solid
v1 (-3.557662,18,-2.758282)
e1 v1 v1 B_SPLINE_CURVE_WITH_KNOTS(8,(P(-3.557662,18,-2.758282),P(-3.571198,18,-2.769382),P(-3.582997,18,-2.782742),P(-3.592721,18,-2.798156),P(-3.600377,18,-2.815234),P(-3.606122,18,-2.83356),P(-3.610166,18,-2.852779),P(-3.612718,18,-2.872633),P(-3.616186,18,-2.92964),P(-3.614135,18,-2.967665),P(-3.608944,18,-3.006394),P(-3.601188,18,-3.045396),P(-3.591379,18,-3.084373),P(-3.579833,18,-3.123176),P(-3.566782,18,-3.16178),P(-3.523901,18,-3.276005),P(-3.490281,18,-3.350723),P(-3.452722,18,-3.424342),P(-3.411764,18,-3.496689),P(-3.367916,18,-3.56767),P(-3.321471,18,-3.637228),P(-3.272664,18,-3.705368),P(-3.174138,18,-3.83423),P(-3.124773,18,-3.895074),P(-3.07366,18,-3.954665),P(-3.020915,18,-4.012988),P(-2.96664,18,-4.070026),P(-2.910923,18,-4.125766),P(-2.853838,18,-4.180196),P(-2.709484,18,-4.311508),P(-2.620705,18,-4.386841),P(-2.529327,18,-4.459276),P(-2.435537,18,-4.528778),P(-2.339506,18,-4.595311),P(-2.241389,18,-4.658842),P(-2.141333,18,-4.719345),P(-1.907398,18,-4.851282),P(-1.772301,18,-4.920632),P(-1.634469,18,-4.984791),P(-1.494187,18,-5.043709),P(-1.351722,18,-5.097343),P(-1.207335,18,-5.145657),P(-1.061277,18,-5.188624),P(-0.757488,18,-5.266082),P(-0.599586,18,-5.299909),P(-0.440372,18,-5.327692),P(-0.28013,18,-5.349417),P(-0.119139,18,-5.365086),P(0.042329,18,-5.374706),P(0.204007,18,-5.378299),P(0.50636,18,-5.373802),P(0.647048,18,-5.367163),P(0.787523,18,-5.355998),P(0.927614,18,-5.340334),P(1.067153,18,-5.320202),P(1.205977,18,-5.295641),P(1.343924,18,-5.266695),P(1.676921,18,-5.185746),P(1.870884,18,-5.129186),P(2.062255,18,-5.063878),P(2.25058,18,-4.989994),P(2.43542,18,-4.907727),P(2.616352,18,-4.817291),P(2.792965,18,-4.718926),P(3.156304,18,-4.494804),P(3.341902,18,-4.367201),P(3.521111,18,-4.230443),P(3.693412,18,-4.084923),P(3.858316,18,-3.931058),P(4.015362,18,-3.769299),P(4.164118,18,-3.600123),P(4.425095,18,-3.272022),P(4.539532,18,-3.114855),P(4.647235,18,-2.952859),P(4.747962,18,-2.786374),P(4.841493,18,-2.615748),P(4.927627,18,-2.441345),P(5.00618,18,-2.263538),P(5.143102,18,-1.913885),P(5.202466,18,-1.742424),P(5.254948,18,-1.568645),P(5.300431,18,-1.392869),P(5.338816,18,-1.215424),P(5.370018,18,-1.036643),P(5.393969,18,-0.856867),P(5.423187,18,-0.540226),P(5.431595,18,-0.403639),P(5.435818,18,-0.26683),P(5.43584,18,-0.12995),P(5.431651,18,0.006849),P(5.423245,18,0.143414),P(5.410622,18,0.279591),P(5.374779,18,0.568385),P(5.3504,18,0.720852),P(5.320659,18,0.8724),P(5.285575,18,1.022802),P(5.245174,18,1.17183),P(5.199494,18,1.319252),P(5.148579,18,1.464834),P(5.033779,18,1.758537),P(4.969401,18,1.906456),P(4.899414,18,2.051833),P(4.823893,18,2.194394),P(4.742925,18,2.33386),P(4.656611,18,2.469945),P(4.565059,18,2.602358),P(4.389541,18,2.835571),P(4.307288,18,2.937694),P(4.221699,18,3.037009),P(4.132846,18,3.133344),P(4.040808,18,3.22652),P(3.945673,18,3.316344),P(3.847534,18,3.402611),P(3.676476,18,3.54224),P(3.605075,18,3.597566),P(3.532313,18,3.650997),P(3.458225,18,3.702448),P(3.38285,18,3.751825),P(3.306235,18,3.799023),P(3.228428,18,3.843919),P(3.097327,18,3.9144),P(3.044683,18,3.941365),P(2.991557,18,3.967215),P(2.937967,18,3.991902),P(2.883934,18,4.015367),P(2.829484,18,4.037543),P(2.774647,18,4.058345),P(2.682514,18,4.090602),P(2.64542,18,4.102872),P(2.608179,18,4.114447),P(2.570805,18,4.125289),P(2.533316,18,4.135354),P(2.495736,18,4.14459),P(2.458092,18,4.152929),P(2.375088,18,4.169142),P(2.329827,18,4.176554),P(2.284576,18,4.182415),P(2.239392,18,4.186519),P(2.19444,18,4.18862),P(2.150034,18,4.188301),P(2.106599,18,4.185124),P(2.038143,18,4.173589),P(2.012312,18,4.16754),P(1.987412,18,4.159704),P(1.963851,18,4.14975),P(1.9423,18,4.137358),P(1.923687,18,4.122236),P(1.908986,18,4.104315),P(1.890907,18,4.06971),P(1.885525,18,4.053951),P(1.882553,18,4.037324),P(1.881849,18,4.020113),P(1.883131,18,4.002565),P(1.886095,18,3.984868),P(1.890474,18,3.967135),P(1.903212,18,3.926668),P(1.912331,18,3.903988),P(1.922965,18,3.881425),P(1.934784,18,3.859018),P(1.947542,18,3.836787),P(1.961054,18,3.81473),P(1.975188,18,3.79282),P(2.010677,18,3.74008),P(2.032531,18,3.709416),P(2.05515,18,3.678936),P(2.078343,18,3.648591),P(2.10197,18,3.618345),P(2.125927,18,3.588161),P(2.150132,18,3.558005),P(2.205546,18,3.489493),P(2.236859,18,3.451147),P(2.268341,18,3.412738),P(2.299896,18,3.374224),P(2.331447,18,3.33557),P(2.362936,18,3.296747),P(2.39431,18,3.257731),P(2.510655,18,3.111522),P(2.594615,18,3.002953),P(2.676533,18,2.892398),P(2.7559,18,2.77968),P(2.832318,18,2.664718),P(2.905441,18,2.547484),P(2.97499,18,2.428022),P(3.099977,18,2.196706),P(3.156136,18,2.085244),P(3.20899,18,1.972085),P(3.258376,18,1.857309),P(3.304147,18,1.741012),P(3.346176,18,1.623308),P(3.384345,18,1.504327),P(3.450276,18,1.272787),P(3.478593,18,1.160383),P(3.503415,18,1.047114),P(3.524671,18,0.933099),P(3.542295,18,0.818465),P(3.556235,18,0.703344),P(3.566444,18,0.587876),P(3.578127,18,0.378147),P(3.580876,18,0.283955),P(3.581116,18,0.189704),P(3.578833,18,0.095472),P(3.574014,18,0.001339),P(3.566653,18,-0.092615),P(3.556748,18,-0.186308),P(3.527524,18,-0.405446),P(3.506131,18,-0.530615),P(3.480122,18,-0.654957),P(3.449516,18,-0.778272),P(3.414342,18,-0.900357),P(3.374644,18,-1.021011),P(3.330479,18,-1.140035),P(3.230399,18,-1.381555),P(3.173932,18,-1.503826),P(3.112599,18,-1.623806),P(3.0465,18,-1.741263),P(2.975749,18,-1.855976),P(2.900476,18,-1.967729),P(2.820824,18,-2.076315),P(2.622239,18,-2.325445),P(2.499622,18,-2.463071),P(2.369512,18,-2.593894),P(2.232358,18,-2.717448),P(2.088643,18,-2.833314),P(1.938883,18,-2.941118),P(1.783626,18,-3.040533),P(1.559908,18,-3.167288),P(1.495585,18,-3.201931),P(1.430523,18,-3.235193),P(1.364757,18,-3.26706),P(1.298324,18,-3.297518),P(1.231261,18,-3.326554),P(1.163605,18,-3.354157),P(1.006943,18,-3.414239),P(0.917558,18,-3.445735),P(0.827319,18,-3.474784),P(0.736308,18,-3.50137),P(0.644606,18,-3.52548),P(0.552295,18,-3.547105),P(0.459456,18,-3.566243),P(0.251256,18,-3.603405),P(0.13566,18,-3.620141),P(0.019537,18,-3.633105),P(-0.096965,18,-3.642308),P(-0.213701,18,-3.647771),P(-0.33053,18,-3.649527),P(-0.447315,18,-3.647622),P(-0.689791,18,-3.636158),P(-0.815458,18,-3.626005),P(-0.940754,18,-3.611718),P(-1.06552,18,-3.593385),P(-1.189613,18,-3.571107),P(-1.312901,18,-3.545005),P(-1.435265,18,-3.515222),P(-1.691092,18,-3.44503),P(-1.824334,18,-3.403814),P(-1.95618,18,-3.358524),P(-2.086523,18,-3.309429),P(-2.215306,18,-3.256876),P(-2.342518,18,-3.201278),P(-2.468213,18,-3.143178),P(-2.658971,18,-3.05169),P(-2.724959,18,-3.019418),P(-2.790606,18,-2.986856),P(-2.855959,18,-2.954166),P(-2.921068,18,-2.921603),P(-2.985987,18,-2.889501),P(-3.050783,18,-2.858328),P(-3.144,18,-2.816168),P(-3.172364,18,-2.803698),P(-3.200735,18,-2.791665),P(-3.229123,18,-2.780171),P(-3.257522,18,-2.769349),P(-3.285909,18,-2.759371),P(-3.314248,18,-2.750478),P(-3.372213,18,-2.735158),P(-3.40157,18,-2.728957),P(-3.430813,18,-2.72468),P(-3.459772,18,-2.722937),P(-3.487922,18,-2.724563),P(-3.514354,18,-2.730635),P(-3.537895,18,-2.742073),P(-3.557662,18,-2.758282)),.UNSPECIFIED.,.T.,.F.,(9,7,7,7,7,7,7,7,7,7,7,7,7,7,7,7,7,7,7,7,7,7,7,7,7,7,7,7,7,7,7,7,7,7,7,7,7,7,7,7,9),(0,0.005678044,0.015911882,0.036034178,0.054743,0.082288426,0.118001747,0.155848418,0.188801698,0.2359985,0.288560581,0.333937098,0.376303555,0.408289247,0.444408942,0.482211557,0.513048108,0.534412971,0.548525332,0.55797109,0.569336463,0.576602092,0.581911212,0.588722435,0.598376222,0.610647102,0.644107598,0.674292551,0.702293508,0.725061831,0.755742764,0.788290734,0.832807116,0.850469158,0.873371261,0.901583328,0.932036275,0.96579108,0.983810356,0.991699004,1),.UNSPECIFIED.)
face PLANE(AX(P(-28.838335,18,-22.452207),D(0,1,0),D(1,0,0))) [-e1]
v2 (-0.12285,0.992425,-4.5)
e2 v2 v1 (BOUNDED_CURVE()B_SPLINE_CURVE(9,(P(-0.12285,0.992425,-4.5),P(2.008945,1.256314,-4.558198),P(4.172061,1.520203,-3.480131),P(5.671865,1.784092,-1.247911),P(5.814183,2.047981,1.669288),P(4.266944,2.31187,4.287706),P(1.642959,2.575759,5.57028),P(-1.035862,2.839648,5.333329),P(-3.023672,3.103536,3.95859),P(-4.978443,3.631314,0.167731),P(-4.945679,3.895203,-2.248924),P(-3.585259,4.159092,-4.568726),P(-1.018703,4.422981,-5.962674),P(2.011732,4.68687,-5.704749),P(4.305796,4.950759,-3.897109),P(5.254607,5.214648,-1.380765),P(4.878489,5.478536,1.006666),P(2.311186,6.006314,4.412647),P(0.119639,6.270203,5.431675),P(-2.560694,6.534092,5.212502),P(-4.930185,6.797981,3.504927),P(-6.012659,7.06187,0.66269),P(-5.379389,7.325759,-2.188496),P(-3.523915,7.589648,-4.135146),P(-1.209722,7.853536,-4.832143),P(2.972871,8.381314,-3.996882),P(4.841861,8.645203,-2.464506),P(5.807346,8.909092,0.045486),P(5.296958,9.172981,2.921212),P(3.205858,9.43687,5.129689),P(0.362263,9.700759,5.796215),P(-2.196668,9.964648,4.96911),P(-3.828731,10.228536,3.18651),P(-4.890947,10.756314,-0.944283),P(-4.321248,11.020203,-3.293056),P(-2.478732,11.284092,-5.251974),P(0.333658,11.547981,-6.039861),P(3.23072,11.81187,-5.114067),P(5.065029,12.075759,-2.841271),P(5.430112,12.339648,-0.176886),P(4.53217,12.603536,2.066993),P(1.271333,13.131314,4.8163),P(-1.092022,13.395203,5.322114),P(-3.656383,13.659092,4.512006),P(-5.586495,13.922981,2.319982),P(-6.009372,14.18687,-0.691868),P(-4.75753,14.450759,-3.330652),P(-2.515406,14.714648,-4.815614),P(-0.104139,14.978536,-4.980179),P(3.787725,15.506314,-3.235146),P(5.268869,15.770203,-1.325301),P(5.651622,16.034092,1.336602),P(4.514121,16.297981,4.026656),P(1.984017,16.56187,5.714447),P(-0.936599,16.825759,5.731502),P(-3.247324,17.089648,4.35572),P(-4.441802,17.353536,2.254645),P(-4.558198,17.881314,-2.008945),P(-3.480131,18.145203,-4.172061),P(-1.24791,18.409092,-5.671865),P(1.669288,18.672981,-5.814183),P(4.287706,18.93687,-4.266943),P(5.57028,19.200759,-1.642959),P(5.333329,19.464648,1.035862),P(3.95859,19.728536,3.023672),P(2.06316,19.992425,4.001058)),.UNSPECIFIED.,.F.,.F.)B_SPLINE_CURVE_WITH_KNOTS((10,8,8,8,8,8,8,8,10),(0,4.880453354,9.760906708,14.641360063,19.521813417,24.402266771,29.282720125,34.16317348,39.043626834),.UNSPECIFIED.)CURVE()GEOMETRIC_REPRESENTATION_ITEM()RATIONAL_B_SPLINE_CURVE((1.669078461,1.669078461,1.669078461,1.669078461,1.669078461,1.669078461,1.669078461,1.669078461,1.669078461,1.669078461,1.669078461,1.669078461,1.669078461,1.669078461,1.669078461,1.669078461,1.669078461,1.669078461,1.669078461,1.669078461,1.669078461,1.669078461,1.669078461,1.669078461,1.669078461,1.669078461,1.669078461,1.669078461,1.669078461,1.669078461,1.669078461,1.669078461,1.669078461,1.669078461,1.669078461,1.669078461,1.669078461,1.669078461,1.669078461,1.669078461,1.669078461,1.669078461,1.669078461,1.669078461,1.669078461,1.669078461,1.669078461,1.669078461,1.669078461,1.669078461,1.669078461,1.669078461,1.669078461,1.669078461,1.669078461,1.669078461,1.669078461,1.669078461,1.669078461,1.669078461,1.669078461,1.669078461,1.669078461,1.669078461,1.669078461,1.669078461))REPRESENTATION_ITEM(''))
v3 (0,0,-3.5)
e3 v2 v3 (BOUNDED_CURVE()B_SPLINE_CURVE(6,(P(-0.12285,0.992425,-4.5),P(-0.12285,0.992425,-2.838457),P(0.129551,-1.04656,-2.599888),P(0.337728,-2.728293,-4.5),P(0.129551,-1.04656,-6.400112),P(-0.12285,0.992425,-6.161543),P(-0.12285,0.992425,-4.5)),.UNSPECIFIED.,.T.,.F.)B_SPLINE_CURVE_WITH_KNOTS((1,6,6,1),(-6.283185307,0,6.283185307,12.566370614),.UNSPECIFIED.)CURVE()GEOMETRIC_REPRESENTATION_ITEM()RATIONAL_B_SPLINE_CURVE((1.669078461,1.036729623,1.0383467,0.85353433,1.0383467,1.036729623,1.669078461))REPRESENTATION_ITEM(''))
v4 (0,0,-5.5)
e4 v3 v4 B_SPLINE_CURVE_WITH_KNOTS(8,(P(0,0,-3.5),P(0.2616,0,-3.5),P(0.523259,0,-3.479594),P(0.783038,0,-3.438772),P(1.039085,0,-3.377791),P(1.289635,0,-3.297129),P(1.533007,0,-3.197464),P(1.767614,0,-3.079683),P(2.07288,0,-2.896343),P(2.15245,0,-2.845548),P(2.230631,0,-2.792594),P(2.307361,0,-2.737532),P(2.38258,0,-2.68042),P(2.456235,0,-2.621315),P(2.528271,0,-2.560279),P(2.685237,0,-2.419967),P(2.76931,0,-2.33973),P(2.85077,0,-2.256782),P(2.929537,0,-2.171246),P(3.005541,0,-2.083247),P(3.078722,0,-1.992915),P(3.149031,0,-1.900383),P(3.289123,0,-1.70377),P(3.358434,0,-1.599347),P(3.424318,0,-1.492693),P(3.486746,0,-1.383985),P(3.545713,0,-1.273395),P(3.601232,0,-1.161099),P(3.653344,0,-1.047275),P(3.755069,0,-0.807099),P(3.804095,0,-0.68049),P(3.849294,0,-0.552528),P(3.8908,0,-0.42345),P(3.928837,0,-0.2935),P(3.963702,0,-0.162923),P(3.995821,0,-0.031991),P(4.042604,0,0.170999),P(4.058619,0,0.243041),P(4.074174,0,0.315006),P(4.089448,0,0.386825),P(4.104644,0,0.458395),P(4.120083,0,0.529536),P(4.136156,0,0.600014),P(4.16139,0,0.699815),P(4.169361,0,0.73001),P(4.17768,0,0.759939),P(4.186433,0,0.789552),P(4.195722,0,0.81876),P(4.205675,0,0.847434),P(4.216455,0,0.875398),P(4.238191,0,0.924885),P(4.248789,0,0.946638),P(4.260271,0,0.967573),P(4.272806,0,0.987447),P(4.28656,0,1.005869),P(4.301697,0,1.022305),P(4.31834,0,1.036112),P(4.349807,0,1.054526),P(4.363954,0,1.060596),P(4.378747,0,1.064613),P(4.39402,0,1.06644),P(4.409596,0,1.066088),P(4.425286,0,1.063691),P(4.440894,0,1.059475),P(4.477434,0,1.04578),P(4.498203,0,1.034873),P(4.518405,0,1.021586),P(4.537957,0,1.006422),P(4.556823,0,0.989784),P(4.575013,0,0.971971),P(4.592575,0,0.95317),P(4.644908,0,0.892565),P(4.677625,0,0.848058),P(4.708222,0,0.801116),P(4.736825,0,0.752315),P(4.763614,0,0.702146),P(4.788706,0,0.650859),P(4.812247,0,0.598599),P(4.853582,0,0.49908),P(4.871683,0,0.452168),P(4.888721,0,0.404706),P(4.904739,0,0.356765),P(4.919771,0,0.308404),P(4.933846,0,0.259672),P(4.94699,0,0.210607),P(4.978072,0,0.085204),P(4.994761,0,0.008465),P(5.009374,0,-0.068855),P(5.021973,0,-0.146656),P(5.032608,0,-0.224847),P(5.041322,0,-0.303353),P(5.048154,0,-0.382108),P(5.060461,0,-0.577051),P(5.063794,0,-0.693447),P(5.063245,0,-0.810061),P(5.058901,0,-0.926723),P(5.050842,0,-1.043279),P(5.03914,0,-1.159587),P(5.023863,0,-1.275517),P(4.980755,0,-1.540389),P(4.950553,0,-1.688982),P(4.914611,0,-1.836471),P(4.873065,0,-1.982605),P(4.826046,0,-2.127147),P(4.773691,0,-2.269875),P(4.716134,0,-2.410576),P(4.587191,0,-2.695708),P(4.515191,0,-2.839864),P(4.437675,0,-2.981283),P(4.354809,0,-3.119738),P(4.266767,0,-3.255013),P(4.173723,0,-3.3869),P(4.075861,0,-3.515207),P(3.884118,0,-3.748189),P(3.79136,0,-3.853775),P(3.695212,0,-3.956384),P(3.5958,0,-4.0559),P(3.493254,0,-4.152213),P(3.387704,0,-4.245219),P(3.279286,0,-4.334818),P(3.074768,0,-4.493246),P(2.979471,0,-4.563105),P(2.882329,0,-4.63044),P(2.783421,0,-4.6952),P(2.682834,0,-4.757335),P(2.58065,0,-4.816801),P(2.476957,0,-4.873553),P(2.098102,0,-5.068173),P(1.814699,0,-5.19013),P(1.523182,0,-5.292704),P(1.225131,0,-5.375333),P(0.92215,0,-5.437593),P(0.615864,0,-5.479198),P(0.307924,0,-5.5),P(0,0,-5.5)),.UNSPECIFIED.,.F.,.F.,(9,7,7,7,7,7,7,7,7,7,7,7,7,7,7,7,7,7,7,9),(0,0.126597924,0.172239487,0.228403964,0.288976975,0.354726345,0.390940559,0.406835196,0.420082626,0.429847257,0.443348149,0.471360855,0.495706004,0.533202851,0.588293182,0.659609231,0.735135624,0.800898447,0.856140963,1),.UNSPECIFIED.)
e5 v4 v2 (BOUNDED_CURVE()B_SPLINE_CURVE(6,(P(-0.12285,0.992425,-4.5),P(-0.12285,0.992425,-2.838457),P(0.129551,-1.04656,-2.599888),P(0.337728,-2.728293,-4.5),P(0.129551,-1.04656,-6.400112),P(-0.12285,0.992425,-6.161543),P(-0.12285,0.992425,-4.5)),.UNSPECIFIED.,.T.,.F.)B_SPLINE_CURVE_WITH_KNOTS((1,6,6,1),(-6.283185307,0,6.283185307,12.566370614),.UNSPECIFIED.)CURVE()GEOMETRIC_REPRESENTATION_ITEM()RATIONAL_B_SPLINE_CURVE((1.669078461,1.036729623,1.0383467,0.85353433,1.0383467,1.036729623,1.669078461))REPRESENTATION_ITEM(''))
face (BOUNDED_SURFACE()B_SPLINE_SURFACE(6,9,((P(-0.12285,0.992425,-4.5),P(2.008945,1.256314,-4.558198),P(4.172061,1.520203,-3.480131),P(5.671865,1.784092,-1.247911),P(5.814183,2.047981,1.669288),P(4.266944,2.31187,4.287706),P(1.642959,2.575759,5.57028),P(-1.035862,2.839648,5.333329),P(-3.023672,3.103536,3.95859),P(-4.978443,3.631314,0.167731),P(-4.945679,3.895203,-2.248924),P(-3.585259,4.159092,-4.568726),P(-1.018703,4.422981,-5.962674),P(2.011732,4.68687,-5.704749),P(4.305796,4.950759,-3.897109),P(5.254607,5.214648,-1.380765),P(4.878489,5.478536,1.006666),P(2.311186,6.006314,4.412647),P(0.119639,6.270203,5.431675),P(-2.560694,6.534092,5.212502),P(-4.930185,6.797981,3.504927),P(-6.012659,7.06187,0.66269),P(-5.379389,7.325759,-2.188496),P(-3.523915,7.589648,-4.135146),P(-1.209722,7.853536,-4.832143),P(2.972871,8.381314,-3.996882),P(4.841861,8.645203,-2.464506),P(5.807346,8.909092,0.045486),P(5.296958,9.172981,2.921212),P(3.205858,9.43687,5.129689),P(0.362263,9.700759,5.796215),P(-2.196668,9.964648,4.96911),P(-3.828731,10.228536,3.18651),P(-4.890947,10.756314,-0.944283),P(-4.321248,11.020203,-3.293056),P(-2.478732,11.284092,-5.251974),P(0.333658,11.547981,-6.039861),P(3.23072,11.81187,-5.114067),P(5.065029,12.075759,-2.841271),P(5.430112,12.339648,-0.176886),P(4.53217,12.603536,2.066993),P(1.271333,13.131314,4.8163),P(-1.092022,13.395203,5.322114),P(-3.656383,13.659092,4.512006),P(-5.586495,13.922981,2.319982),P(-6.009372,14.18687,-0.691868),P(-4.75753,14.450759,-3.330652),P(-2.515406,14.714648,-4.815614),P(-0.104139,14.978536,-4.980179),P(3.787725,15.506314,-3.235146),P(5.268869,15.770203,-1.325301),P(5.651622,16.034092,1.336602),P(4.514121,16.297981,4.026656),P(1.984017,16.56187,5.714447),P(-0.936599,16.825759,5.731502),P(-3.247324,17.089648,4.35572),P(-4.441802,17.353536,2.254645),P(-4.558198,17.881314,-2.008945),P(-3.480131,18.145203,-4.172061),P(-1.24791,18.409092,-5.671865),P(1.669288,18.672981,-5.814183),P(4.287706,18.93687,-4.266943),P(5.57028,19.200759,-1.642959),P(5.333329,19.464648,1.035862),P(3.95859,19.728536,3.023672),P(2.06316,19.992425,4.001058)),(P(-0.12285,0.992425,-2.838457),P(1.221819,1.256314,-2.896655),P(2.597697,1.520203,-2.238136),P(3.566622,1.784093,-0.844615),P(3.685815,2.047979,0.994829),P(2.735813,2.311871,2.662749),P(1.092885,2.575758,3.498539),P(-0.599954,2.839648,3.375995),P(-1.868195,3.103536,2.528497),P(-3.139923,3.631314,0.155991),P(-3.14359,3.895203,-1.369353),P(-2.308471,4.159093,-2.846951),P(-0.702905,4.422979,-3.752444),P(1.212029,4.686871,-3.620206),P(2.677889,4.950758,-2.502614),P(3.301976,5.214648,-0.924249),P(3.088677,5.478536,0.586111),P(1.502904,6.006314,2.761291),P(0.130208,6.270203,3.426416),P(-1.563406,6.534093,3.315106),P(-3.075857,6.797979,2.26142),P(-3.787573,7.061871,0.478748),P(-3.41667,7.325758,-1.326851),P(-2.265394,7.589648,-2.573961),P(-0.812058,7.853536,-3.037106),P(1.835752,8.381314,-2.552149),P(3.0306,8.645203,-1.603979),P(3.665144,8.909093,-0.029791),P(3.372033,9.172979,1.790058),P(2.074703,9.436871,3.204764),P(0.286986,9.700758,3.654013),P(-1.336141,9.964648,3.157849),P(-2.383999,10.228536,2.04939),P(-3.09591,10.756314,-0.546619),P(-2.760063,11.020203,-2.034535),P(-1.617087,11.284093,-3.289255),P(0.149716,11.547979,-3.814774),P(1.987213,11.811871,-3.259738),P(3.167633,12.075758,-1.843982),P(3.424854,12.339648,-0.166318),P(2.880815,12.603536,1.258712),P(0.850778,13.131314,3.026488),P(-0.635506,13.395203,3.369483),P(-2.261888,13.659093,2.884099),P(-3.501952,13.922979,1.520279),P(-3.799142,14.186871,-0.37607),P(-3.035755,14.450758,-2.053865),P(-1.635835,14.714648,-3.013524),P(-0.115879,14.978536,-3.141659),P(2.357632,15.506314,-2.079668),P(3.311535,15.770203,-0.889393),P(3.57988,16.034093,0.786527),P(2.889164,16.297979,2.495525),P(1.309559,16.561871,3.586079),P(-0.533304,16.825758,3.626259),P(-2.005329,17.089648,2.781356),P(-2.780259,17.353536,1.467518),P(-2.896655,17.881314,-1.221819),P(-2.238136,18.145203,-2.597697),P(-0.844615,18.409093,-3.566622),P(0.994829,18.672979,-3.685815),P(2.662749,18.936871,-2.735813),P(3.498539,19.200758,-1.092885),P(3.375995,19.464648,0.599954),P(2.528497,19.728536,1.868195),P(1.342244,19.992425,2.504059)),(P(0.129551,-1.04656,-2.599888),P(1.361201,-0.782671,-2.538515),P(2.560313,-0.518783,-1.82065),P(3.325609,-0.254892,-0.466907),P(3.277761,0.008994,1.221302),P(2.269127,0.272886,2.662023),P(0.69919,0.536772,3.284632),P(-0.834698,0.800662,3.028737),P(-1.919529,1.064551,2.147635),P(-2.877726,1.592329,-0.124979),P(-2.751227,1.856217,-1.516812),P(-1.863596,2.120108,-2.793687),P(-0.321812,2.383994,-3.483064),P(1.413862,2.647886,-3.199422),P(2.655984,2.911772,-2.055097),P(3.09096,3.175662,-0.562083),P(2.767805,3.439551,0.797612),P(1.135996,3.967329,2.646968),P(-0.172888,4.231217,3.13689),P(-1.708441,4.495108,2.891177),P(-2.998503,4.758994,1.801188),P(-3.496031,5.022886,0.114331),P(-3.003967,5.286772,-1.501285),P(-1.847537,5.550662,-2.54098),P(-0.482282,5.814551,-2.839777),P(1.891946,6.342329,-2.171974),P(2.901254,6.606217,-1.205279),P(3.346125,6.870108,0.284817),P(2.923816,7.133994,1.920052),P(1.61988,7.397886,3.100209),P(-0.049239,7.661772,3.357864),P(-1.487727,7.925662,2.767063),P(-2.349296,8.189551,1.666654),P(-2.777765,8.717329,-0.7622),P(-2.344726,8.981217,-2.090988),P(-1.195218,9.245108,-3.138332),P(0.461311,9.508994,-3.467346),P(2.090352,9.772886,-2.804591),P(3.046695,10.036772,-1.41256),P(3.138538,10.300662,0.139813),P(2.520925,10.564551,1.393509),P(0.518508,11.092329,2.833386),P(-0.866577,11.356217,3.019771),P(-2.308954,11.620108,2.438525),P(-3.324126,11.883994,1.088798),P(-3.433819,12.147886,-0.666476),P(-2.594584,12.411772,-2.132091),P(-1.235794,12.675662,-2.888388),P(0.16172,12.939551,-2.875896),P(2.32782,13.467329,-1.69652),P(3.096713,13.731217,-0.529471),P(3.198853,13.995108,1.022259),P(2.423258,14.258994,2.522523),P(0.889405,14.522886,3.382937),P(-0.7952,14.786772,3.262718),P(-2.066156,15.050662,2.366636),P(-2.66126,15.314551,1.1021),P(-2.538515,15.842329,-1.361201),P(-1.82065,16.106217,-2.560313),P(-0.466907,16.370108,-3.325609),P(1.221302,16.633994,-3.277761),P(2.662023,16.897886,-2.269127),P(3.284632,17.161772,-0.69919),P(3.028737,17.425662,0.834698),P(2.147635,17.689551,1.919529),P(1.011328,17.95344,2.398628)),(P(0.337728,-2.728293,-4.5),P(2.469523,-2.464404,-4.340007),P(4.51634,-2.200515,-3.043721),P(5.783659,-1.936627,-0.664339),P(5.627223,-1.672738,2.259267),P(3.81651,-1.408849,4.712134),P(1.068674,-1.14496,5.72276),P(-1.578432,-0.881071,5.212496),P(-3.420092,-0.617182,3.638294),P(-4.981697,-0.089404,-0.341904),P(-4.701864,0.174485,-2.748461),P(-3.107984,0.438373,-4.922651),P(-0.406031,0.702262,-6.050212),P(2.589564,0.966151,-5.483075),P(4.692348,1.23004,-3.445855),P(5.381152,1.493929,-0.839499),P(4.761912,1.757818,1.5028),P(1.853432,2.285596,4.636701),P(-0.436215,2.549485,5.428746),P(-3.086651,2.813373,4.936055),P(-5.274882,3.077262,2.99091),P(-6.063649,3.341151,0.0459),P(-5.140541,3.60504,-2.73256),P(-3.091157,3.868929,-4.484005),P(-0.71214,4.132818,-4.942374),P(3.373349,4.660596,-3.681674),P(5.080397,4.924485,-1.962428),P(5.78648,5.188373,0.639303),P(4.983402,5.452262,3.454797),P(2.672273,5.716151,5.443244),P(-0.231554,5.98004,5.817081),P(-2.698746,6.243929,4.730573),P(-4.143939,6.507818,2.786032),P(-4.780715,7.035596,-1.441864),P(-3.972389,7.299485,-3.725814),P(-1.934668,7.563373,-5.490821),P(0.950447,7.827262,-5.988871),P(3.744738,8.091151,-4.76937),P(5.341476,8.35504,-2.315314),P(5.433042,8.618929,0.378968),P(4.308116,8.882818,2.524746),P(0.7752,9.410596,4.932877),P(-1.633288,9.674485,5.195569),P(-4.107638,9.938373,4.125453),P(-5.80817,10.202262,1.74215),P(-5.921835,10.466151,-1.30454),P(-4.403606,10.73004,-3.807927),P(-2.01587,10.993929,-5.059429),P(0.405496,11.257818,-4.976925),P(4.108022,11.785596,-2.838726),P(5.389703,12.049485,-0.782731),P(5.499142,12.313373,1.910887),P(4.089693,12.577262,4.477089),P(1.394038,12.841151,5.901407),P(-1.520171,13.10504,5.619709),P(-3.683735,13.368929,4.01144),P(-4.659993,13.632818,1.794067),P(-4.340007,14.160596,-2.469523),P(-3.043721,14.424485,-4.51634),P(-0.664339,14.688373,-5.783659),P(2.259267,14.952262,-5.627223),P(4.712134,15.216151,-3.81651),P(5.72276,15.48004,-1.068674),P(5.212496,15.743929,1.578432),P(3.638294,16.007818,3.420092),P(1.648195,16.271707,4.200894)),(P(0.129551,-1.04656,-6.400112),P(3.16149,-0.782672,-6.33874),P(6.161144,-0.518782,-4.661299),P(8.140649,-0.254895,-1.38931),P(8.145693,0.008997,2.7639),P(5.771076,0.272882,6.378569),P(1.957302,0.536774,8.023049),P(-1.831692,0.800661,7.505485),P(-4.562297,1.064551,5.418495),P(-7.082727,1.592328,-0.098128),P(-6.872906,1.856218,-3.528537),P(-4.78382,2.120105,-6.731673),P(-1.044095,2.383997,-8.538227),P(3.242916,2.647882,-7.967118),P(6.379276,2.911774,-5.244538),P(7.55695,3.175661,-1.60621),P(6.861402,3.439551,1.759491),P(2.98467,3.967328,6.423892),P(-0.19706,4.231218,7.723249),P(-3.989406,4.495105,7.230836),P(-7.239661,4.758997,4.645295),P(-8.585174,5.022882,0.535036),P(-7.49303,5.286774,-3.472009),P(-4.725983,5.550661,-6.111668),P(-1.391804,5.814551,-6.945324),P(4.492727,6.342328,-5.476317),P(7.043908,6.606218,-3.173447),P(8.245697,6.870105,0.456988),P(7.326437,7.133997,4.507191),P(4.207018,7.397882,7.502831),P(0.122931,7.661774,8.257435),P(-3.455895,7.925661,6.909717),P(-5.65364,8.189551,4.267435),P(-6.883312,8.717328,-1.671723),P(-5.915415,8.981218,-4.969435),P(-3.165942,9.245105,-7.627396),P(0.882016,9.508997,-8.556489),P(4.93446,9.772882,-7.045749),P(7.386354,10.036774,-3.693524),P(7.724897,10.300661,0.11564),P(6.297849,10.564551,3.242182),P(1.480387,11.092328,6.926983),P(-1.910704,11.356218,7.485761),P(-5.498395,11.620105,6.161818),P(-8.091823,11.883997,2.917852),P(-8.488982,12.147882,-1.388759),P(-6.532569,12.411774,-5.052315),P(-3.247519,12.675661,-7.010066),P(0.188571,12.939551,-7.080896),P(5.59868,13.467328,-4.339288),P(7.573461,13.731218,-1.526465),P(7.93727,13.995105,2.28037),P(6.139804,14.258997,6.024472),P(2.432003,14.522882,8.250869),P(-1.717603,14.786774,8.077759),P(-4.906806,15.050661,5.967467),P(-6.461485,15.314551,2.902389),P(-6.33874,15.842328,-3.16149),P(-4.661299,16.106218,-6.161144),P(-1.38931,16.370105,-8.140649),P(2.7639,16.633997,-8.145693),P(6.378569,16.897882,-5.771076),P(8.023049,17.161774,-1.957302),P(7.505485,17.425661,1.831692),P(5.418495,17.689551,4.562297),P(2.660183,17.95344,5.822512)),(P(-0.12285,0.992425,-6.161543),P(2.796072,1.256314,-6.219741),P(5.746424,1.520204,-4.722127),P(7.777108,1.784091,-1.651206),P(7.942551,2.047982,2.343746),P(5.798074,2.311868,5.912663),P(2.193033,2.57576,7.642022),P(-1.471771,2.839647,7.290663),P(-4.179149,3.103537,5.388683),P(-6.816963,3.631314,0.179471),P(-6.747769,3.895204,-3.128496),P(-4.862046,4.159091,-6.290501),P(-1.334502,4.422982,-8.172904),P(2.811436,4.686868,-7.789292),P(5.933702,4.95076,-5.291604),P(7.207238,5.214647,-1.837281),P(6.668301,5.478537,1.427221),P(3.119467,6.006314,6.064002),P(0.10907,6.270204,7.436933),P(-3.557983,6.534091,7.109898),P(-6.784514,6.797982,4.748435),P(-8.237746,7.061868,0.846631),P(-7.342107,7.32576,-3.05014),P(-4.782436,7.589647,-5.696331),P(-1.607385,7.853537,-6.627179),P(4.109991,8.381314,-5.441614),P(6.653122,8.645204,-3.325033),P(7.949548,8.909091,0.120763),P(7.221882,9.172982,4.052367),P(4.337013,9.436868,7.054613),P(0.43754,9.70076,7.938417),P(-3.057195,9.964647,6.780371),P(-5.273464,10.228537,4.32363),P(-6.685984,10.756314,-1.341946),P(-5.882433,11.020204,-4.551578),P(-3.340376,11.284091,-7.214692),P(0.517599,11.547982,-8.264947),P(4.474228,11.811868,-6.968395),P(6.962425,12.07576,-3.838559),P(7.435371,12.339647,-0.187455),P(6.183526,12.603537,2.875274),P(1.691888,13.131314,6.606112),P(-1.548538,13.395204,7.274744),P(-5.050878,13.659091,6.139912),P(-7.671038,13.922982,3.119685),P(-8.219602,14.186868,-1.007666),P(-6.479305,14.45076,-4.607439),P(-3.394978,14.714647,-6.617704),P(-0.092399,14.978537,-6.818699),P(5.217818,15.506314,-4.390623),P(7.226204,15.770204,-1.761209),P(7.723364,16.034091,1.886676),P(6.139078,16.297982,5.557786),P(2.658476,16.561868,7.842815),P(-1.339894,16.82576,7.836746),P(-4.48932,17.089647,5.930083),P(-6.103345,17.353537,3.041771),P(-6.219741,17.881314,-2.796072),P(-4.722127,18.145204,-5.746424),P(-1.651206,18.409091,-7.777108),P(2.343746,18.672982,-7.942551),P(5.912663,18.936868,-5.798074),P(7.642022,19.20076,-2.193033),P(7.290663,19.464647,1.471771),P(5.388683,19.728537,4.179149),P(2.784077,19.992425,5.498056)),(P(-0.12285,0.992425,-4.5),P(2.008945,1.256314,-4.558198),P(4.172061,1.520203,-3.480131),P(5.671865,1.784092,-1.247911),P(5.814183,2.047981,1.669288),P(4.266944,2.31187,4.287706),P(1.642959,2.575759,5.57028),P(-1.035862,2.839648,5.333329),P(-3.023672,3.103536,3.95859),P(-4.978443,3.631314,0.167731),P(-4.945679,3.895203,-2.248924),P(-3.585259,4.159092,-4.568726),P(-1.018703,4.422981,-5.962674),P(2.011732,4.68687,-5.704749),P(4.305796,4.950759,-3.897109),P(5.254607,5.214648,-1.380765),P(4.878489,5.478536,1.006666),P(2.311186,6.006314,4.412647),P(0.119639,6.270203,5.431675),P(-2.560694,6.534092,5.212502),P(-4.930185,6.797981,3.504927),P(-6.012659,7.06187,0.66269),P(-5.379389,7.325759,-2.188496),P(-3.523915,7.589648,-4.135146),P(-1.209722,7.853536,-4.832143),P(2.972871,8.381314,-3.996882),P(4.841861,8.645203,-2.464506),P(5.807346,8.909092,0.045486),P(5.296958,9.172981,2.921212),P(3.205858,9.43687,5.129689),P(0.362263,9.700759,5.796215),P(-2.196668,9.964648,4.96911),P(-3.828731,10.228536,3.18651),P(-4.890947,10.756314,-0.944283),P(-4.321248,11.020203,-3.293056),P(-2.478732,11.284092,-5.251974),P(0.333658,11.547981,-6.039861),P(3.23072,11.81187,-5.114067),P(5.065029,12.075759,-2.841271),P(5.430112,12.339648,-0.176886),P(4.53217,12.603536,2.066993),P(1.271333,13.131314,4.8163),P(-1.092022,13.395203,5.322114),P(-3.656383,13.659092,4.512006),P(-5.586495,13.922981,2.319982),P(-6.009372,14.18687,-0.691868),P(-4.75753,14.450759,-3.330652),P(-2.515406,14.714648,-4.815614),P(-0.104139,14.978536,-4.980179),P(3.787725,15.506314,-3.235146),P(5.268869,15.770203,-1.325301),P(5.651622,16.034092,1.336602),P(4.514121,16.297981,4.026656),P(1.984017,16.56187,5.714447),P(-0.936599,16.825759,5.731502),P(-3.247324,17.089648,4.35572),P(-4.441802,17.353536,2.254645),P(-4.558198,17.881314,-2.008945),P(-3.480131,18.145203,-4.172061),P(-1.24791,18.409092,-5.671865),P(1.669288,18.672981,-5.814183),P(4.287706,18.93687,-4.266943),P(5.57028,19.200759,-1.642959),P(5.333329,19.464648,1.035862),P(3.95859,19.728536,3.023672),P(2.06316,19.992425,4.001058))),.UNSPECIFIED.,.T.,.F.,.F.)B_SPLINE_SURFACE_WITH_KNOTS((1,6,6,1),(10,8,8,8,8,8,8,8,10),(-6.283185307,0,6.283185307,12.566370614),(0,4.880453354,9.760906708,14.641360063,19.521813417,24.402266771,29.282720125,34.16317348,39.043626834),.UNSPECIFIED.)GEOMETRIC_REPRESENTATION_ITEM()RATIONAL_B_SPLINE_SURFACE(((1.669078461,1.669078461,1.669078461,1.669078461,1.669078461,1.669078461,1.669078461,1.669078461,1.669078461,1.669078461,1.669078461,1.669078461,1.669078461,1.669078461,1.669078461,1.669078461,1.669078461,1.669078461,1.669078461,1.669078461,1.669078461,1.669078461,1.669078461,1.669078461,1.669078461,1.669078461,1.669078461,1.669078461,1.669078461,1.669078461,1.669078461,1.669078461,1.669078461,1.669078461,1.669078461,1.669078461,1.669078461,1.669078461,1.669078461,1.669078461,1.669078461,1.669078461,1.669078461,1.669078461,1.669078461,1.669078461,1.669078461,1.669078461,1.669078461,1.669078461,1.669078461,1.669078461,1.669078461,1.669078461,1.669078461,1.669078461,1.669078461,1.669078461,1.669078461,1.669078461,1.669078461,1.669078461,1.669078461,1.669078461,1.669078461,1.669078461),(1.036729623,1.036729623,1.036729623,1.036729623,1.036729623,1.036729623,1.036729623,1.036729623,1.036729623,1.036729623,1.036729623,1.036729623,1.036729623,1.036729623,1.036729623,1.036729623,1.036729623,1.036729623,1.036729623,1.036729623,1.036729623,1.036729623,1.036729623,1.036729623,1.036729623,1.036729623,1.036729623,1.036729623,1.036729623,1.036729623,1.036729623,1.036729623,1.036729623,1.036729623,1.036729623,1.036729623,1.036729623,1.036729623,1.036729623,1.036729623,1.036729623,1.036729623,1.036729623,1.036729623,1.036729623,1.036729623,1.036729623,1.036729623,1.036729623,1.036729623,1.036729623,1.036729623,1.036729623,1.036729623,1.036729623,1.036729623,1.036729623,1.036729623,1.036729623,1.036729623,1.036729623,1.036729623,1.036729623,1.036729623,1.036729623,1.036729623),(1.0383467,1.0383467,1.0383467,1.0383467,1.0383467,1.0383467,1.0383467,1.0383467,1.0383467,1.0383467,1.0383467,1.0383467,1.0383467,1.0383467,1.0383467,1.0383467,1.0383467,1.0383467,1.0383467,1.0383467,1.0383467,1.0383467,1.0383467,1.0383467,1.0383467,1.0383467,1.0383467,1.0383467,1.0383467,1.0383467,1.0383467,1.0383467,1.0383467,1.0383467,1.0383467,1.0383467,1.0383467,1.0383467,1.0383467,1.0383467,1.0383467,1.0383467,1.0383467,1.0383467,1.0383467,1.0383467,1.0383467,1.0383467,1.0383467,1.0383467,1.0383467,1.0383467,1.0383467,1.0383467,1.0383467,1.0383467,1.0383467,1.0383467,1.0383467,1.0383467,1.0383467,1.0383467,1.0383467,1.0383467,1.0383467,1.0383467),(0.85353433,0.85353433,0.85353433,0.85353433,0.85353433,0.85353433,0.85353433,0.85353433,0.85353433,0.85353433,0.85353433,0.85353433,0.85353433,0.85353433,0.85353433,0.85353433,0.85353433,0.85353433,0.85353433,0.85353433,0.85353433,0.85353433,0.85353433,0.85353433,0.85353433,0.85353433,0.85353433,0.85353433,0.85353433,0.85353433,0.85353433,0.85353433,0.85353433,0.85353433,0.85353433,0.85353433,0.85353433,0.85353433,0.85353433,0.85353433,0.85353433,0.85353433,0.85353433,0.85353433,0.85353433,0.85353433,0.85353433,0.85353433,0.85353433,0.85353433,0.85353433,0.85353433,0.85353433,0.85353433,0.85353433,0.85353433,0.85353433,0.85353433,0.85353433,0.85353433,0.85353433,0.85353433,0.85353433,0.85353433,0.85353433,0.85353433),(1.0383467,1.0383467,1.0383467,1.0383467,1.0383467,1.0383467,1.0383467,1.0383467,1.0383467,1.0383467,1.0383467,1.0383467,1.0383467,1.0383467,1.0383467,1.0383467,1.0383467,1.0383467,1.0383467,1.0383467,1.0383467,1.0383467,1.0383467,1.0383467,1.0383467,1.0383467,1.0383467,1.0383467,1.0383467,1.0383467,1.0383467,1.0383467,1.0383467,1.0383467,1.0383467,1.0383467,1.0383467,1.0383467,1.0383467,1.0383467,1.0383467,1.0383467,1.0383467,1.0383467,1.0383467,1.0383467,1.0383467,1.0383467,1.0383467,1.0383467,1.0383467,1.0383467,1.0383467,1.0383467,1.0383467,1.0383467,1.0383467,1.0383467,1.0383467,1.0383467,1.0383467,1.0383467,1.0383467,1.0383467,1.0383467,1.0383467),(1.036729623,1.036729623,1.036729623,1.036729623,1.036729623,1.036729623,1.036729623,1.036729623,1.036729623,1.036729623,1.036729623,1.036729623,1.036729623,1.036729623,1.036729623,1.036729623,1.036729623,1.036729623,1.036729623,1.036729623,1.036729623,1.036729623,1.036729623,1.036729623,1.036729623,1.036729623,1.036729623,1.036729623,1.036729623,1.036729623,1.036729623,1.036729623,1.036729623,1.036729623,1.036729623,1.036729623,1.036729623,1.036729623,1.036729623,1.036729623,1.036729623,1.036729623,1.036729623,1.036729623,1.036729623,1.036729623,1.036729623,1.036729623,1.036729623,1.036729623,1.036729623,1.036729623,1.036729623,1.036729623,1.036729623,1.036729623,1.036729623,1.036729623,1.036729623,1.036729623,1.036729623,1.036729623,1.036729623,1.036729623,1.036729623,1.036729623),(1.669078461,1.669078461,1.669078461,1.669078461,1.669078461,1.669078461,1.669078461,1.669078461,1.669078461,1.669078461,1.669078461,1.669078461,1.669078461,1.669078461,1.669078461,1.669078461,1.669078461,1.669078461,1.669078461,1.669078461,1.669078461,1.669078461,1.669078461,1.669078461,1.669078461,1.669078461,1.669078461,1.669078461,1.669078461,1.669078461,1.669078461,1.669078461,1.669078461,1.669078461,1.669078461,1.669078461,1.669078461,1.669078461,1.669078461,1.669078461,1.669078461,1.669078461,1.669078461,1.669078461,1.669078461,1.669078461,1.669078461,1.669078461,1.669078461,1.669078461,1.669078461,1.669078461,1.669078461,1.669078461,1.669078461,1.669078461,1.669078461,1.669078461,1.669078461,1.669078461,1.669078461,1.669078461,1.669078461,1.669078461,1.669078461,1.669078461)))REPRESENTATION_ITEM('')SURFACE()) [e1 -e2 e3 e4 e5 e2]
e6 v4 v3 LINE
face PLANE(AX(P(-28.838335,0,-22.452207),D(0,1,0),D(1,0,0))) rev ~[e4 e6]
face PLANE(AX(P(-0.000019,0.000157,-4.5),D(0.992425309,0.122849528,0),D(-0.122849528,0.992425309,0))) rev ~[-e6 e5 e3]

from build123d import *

# Parameters (mm, degrees)
SWEEP_5_PITCH            = 3.5
SWEEP_5_HEIGHT           = 19
SWEEP_5_RADIUS           = 4.5
SWEEP_5_START_ANGLE      = -180
SWEEP_5_PROFILE_R        = 1
CUT_EXTRUDE_2_DEPTH      = 22.45220749
CUT_EXTRUDE_2_DEPTH_BACK = 22.45220749
SKETCH_89_W              = 69.978044934
SKETCH_89_H              = 31.950273618
SKETCH_89_W_2            = 46.999315539
SKETCH_89_H_2            = 18


with BuildPart() as part:
    # По траектории5: sweep along a helix
    with BuildLine() as sweep_5_path:
        add(Helix(SWEEP_5_PITCH, SWEEP_5_HEIGHT, SWEEP_5_RADIUS, center=(0, 0, 0), direction=(0, 1, 0), lefthand=True, mode=Mode.PRIVATE).rotate(Axis((0, 0, 0), (0, 1, 0)), SWEEP_5_START_ANGLE))
    # По траектории5 profile (on start of the path) → По траектории5 (sweep)
    with BuildSketch(Plane(origin=(0, 0, -4.5), x_dir=(-0.1228495283034499, 0.9924253087238454, 0), z_dir=(0.9924253087238454, 0.1228495283034499, 2.6143115904598e-13))):
        Circle(SWEEP_5_PROFILE_R)
    sweep(path=sweep_5_path.line, is_frenet=True)

    # Эскиз89 → Вырез-Вытянуть2 (cut, two sides: drawn at the far end of the back side and taken through both)
    with BuildSketch(Plane.XY.offset(-CUT_EXTRUDE_2_DEPTH_BACK)):
        with Locations((-2.820856745, 8.728772448)):
            Rectangle(SKETCH_89_W, SKETCH_89_H)
        with Locations((-5.338677221, 9)):
            Rectangle(SKETCH_89_W_2, SKETCH_89_H_2, mode=Mode.SUBTRACT)
    extrude(amount=CUT_EXTRUDE_2_DEPTH + CUT_EXTRUDE_2_DEPTH_BACK, mode=Mode.SUBTRACT)


solid = part.part
